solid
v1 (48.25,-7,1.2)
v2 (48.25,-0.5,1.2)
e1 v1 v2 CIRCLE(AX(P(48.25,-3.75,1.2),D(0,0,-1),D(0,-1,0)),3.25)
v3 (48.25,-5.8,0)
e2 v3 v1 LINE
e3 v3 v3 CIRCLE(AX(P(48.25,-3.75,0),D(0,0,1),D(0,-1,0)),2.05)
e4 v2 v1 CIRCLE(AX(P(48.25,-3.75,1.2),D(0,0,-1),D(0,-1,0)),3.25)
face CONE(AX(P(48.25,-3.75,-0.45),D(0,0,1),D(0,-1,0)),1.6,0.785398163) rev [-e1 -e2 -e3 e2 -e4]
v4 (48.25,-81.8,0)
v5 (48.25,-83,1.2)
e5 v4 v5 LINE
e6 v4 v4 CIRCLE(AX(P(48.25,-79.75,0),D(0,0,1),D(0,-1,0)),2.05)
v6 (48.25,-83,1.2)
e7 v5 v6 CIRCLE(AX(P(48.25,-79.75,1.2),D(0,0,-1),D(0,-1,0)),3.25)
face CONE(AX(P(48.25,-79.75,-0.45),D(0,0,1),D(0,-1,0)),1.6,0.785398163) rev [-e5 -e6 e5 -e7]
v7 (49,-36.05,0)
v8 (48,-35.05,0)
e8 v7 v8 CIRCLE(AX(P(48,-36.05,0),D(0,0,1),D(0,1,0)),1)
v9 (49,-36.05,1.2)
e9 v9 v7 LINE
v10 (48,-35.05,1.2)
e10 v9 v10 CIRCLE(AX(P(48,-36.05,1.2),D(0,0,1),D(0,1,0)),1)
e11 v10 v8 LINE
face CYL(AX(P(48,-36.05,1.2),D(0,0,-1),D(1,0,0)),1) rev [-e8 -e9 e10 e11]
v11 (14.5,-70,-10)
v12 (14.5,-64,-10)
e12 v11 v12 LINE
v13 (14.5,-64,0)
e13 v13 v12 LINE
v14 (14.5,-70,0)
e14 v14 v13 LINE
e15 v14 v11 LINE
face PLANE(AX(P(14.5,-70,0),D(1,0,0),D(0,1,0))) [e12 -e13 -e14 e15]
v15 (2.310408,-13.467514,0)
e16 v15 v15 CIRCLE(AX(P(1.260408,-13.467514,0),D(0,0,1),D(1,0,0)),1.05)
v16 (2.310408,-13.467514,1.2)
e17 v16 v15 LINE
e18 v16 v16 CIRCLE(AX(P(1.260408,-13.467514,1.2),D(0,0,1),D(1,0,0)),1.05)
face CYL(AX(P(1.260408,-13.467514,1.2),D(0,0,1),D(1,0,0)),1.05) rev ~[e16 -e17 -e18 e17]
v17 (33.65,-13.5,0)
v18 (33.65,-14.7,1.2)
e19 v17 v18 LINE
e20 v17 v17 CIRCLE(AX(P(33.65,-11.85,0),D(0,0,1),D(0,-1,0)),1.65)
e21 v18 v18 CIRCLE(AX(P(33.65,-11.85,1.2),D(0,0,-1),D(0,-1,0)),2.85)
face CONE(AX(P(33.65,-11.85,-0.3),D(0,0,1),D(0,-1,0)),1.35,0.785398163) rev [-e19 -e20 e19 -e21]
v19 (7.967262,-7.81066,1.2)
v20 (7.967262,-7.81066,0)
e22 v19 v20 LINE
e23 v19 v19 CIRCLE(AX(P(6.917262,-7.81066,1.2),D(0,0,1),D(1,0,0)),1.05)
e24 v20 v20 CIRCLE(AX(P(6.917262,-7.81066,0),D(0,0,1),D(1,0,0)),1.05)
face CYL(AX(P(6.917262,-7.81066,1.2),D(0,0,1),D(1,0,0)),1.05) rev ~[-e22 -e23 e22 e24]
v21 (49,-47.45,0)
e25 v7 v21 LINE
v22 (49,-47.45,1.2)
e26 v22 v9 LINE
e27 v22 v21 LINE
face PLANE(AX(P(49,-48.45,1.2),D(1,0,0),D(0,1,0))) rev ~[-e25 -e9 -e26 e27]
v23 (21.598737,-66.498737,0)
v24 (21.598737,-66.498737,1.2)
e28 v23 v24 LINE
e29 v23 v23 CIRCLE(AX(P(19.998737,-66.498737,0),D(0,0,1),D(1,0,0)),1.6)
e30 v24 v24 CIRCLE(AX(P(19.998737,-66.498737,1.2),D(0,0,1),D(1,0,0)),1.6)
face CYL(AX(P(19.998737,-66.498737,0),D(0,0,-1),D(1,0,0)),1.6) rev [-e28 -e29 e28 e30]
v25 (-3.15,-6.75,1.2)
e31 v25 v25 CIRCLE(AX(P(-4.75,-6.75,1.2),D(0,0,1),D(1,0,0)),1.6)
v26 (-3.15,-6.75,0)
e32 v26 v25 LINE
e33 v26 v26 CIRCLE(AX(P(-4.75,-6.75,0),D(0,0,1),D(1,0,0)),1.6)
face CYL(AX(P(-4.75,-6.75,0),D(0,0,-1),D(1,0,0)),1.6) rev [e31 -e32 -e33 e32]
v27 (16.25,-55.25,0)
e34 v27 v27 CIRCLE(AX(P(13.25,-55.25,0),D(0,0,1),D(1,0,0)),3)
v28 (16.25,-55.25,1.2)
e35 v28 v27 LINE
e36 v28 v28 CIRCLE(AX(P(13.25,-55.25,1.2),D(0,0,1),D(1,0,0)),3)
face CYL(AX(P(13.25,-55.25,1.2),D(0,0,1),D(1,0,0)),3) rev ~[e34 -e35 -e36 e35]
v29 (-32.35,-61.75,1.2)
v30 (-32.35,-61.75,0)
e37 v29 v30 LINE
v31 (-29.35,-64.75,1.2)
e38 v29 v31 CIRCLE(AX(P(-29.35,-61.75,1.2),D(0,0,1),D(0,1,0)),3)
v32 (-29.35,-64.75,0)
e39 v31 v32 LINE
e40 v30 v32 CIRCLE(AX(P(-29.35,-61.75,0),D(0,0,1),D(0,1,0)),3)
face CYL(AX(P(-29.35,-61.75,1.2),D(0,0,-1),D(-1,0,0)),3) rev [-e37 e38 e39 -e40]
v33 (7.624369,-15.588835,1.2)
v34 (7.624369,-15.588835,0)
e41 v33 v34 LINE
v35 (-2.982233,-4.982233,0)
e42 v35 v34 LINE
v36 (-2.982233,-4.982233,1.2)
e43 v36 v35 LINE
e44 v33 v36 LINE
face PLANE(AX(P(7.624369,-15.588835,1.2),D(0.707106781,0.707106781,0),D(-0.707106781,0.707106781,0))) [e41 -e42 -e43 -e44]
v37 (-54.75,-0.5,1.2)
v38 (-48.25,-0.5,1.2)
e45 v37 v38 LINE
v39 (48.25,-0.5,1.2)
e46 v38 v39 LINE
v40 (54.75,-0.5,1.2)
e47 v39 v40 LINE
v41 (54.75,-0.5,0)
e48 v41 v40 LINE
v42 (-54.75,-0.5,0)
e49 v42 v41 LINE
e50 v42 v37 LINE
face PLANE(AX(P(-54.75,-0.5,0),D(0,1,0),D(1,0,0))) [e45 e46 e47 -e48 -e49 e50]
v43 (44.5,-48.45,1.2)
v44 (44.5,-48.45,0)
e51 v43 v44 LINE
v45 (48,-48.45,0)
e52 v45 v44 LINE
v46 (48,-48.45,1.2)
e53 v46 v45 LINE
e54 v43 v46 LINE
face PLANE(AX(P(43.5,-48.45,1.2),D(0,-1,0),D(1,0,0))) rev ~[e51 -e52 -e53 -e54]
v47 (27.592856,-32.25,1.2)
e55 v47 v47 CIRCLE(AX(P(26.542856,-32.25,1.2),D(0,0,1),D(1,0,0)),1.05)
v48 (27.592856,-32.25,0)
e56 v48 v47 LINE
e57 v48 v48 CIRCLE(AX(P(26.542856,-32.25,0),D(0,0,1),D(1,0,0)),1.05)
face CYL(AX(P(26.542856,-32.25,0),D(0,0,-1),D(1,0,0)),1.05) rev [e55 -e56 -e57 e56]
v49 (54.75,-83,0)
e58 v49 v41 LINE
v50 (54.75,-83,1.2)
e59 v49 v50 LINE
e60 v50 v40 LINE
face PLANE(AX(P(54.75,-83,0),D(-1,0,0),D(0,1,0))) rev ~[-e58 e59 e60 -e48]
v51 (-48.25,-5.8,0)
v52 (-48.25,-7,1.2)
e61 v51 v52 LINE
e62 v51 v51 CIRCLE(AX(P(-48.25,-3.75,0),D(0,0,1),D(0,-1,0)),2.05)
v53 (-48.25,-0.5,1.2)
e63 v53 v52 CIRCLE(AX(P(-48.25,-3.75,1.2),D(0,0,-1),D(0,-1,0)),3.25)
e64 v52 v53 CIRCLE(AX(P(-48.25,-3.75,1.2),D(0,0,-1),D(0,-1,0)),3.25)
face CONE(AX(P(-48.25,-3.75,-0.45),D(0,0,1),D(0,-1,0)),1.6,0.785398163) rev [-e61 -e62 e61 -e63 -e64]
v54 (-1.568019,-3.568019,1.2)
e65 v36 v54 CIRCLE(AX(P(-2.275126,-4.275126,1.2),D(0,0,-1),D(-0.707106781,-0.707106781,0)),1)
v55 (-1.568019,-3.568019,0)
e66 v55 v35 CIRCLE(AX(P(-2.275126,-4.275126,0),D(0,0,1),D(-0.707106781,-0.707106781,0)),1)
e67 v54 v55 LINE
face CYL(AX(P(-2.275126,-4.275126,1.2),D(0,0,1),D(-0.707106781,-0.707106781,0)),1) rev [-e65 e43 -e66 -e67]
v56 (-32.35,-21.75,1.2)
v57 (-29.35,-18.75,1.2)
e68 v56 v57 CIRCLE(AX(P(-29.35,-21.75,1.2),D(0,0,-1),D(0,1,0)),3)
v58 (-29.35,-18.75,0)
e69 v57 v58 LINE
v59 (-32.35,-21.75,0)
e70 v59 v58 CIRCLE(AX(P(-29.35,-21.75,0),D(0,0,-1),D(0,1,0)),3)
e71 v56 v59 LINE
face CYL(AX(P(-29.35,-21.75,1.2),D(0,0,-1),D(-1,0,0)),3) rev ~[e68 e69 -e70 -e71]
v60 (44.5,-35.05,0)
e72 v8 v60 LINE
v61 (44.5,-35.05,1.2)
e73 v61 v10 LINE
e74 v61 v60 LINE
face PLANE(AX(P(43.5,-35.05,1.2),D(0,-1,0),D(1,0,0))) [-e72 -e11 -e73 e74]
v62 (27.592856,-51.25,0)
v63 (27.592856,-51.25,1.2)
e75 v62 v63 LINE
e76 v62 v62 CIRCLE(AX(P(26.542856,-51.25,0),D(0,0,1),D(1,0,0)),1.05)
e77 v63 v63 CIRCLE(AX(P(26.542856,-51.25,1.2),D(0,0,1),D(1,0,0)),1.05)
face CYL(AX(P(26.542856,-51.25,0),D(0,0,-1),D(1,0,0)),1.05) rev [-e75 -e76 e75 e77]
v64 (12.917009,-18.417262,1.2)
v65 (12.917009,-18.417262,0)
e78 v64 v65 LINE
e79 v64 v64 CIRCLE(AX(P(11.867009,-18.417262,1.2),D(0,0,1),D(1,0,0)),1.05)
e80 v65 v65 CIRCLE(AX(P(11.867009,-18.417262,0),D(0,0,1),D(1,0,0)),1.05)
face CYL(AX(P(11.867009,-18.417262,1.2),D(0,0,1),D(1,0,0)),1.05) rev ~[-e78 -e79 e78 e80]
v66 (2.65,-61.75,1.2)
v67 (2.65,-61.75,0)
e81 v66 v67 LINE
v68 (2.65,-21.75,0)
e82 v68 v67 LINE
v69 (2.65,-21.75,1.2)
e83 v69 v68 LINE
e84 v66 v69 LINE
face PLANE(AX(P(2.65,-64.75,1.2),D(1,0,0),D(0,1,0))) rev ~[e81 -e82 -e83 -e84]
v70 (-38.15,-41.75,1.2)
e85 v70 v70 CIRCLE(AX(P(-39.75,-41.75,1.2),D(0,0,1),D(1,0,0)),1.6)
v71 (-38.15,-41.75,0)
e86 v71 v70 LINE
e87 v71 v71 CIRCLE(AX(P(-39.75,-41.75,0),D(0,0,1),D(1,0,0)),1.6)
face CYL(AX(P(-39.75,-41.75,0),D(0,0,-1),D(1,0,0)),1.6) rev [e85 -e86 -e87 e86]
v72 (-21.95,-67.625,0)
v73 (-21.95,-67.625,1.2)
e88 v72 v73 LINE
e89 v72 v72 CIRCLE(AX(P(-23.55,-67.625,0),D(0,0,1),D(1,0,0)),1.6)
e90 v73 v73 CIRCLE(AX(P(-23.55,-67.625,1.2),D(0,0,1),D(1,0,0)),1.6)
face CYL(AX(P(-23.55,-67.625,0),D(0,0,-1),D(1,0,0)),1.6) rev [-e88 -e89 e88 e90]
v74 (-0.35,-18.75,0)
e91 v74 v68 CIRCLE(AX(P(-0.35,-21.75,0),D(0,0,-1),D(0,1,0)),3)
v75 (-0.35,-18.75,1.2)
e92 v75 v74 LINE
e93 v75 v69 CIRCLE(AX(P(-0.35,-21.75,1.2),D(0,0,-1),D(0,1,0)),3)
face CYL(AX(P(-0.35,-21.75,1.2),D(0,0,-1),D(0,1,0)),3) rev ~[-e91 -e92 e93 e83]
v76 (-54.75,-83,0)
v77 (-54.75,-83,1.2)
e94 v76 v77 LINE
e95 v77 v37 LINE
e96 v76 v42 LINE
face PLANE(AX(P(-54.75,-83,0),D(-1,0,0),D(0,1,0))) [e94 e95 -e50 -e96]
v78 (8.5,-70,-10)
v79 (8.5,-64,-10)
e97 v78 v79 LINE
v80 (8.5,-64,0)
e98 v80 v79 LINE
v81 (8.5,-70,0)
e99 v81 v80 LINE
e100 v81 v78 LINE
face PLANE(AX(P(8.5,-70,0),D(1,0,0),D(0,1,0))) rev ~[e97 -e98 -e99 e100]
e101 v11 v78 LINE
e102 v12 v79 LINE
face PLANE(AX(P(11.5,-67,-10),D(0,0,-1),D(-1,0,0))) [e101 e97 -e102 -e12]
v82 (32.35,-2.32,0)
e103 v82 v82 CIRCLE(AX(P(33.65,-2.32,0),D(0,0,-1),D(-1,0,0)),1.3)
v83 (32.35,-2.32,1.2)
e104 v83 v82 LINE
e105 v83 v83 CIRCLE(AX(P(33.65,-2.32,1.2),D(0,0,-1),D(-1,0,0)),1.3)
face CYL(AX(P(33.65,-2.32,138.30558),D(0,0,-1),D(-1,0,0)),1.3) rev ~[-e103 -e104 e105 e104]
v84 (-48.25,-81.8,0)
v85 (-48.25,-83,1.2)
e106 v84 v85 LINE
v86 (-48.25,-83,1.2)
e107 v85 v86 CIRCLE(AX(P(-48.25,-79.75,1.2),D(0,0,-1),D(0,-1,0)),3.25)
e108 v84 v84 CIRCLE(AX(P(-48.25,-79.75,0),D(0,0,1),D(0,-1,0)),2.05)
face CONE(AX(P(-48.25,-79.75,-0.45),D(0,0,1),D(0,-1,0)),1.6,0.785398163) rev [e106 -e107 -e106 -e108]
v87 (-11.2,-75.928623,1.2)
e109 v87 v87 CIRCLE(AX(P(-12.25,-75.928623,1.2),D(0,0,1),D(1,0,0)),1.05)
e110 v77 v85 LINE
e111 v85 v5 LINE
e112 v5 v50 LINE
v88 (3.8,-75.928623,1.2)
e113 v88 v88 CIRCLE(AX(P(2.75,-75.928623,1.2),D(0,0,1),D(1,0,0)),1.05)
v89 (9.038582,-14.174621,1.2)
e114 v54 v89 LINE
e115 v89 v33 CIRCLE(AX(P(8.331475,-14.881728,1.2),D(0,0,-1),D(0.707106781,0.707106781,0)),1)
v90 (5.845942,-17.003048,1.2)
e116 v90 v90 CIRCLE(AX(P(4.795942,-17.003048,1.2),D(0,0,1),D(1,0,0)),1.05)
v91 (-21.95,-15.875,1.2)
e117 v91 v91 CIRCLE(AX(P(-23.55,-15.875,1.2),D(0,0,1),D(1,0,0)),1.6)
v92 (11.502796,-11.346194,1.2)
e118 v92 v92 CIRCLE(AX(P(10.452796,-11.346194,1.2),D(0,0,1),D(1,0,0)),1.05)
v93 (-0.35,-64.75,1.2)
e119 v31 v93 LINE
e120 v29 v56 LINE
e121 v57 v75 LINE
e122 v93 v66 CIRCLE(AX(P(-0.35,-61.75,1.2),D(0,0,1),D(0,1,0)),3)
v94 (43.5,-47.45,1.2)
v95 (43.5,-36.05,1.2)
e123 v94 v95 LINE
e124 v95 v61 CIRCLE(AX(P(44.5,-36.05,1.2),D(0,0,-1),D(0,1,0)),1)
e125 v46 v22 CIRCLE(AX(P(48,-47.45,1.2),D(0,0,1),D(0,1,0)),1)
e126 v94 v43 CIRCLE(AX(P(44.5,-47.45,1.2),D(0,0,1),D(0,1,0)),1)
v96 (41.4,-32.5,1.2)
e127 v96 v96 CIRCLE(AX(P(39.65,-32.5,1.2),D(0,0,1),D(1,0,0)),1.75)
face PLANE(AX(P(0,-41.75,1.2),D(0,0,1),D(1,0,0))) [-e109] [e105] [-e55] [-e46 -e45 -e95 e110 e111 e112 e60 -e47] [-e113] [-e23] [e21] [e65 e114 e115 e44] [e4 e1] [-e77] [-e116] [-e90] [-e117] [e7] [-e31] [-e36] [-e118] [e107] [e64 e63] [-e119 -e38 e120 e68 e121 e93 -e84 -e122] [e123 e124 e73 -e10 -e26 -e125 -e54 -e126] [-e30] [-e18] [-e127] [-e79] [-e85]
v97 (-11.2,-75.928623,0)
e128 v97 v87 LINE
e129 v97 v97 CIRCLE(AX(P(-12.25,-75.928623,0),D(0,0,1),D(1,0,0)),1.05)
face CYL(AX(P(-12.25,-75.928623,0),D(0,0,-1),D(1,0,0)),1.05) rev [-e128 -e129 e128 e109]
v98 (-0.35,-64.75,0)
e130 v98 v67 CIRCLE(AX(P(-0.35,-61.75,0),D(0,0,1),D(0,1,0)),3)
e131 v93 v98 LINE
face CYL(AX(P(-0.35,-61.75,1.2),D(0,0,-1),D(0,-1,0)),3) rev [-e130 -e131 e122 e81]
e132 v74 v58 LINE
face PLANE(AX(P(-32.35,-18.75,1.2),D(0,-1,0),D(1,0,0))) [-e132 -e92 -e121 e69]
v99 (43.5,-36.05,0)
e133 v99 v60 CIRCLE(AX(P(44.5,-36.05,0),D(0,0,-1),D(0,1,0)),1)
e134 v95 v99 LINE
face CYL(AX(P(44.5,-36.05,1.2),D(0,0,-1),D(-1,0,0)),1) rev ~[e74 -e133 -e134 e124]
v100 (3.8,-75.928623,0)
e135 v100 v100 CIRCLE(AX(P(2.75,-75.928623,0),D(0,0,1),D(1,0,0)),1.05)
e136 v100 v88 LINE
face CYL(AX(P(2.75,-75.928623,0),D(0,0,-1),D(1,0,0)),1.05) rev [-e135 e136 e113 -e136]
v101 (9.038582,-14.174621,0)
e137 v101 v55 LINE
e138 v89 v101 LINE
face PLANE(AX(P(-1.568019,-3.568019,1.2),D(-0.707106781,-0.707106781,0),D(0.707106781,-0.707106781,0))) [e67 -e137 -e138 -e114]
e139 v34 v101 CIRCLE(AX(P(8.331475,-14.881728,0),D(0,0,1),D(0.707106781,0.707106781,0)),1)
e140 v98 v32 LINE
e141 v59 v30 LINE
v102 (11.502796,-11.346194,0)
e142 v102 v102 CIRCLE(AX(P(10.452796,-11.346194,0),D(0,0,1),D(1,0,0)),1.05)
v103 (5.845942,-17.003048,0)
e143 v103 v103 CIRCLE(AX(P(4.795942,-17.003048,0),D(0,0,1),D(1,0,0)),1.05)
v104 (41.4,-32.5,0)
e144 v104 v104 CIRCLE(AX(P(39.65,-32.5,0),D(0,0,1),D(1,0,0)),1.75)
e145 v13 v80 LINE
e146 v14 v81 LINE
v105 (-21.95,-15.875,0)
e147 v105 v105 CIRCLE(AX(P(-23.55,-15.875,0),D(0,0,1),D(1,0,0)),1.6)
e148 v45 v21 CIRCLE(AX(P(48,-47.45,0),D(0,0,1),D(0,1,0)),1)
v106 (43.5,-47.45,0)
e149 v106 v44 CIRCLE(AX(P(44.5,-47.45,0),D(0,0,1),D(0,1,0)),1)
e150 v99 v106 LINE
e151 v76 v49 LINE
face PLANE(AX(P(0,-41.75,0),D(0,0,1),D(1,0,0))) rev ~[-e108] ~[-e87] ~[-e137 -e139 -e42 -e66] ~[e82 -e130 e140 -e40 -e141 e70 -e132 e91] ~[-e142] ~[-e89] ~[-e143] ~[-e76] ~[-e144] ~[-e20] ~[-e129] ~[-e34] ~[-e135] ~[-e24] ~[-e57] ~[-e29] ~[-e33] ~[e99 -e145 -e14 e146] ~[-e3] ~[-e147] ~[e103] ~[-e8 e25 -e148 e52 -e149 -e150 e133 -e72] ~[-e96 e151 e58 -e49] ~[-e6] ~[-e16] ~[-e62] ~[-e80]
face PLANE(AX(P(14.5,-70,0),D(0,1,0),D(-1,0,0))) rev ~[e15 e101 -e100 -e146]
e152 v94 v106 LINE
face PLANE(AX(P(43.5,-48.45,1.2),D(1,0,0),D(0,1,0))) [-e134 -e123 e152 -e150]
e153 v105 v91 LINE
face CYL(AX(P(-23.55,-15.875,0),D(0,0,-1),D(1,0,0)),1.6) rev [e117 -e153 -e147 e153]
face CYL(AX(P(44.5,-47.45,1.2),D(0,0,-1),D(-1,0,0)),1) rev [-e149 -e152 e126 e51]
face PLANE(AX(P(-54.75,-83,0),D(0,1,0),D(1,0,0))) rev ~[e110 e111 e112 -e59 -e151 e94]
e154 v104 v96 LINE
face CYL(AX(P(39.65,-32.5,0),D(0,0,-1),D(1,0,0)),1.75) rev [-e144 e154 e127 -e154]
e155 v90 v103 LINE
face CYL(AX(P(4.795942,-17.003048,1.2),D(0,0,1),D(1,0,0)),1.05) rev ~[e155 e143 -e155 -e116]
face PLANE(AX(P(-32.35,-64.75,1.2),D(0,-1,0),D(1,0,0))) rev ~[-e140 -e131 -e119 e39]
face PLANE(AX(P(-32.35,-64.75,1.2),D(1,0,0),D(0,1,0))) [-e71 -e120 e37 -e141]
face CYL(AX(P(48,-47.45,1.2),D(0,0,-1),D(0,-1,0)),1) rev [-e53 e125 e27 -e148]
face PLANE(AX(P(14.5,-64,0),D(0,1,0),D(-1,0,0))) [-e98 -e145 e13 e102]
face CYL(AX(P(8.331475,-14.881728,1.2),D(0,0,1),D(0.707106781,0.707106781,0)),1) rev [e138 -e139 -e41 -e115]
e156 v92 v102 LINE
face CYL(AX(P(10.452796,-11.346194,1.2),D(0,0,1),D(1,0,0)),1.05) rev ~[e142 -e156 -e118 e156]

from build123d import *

# Parameters (mm, degrees)
SKETCH1_W                                    = 109.5
SKETCH1_H                                    = 82.5
SKETCH1_R                                    = 1.6
SKETCH1_R_2                                  = 1.05
SKETCH1_R_3                                  = 1.75
BOSS_EXTRUDE1_DEPTH                          = 1.2
CSK_FOR_M3_FLAT_COUNTERSUNK_HEAD_SCR_2_COUNT = 2
CSK_FOR_M3_FLAT_COUNTERSUNK_HEAD_SCR_2_PITCH = 76
CSK_FOR_M3_FLAT_COUNTERSUNK_HEAD_SCR_3_COUNT = 2
CSK_FOR_M3_FLAT_COUNTERSUNK_HEAD_SCR_3_PITCH = 122.834237898
CSK_FOR_M3_FLAT_COUNTERSUNK_HEAD_SCR_4_COUNT = 2
CSK_FOR_M3_FLAT_COUNTERSUNK_HEAD_SCR_4_PITCH = 96.5
F_2_6_2_6_DIAMETER_HOLE1_D                   = 2.6
CUT_EXTRUDE1_REACH                           = 101.438
SKETCH9_R                                    = 1.05
SKETCH9_R_2                                  = 3
SKETCH9_W                                    = 35
SKETCH9_H                                    = 46
SKETCH9_W_2                                  = 5.5
SKETCH9_H_2                                  = 13.4
FILLET1_R                                    = 3
FILLET2_R                                    = 1
SKETCH10_W                                   = 6
SKETCH10_H                                   = 6
BOSS_EXTRUDE2_DEPTH                          = 10


with BuildPart() as part:
    # Sketch1 → Boss-Extrude1 (new body)
    with BuildSketch(Plane.XY):
        with Locations((0, -41.75)):
            Rectangle(SKETCH1_W, SKETCH1_H)
        with Locations((-23.55, -67.625)):
            Circle(SKETCH1_R, mode=Mode.SUBTRACT)
        with Locations((-23.55, -15.875)):
            Circle(SKETCH1_R, mode=Mode.SUBTRACT)
        with Locations((-4.75, -6.75)):
            Circle(SKETCH1_R, mode=Mode.SUBTRACT)
        with Locations((-39.75, -41.75)):
            Circle(SKETCH1_R, mode=Mode.SUBTRACT)
        with Locations((19.998737342, -66.498737342)):
            Circle(SKETCH1_R, mode=Mode.SUBTRACT)
        with Locations((-12.25, -75.92862289)):
            Circle(SKETCH1_R_2, mode=Mode.SUBTRACT)
        with Locations((2.75, -75.92862289)):
            Circle(SKETCH1_R_2, mode=Mode.SUBTRACT)
        with Locations((26.542856399, -51.25)):
            Circle(SKETCH1_R_2, mode=Mode.SUBTRACT)
        with Locations((26.542856399, -32.25)):
            Circle(SKETCH1_R_2, mode=Mode.SUBTRACT)
        with Locations((39.65, -32.5)):
            Circle(SKETCH1_R_3, mode=Mode.SUBTRACT)
    extrude(amount=BOSS_EXTRUDE1_DEPTH)

    # Sketch3 → CSK for M3 Flat Countersunk Head Screw1 (revolve, cut)
    with BuildSketch(Plane(origin=(-48.25, -3.75, 1.2), x_dir=(0, -1, 0), z_dir=(1, 0, 0))):
        Polygon((0, 0), (0, 1.2), (1.6, 1.2), (1.6, 1.65), (3.25, 0), align=None)
    csk_for_m3_flat_countersunk_head_screw1 = revolve(axis=Axis((-48.25, -3.75, 7.55), (0, 0, -1)), mode=Mode.SUBTRACT)

    # CSK for M3 Flat Countersunk Head Scr 2: CSK for M3 Flat Countersunk Head Screw1 ×2
    with Locations(*[(0, -i * CSK_FOR_M3_FLAT_COUNTERSUNK_HEAD_SCR_2_PITCH, 0) for i in range(1, CSK_FOR_M3_FLAT_COUNTERSUNK_HEAD_SCR_2_COUNT)]):
        add(csk_for_m3_flat_countersunk_head_screw1, mode=Mode.SUBTRACT)

    # CSK for M3 Flat Countersunk Head Scr 3: CSK for M3 Flat Countersunk Head Screw1 ×2
    with Locations(*[Vector(0.7856115823348563, -0.6187200026678655, 0) * (i * CSK_FOR_M3_FLAT_COUNTERSUNK_HEAD_SCR_3_PITCH) for i in range(1, CSK_FOR_M3_FLAT_COUNTERSUNK_HEAD_SCR_3_COUNT)]):
        add(csk_for_m3_flat_countersunk_head_screw1, mode=Mode.SUBTRACT)

    # CSK for M3 Flat Countersunk Head Scr 4: CSK for M3 Flat Countersunk Head Screw1 ×2
    with Locations(*[(i * CSK_FOR_M3_FLAT_COUNTERSUNK_HEAD_SCR_4_PITCH, 0, 0) for i in range(1, CSK_FOR_M3_FLAT_COUNTERSUNK_HEAD_SCR_4_COUNT)]):
        add(csk_for_m3_flat_countersunk_head_screw1, mode=Mode.SUBTRACT)

    # Sketch5 → CSK for M2.5 Flat Countersunk Head Screw1 (revolve, cut)
    with BuildSketch(Plane(origin=(33.65, -11.85, 1.2), x_dir=(0, -1, 0), z_dir=(1, 0, 0))):
        Polygon((0, 0), (0, 1.2), (1.35, 1.2), (1.35, 1.5), (2.85, 0), align=None)
    revolve(axis=Axis((33.65, -11.85, 7.55), (0, 0, -1)), mode=Mode.SUBTRACT)

    # Ø2.6 (2.6) Diameter Hole1 (through all)
    with Locations(Plane.XY.offset(1.2)):
        with Locations((33.65, -2.32)):
            Hole(F_2_6_2_6_DIAMETER_HOLE1_D / 2)

    # Sketch9 → Cut-Extrude1 (cut, up to next)
    with BuildSketch(Plane.XY.offset(1.2), mode=Mode.PRIVATE) as cut_extrude1_sk1:
        with Locations((1.26040764, -13.467514421)):
            Circle(SKETCH9_R)
    cut_extrude1_tool1 = extrude(cut_extrude1_sk1.sketch, amount=-CUT_EXTRUDE1_REACH, mode=Mode.PRIVATE) & part.part
    # Sketch9 → Cut-Extrude1 (cut, up to next)
    with BuildSketch(Plane.XY.offset(1.2), mode=Mode.PRIVATE) as cut_extrude1_sk2:
        with Locations((6.91726189, -7.810660172)):
            Circle(SKETCH9_R)
    cut_extrude1_tool2 = extrude(cut_extrude1_sk2.sketch, amount=-CUT_EXTRUDE1_REACH, mode=Mode.PRIVATE) & part.part
    # Sketch9 → Cut-Extrude1 (cut, up to next)
    with BuildSketch(Plane.XY.offset(1.2), mode=Mode.PRIVATE) as cut_extrude1_sk3:
        with Locations((10.452795796, -11.346194078)):
            Circle(SKETCH9_R)
    cut_extrude1_tool3 = extrude(cut_extrude1_sk3.sketch, amount=-CUT_EXTRUDE1_REACH, mode=Mode.PRIVATE) & part.part
    # Sketch9 → Cut-Extrude1 (cut, up to next)
    with BuildSketch(Plane.XY.offset(1.2), mode=Mode.PRIVATE) as cut_extrude1_sk4:
        with Locations((13.25, -55.25)):
            Circle(SKETCH9_R_2)
    cut_extrude1_tool4 = extrude(cut_extrude1_sk4.sketch, amount=-CUT_EXTRUDE1_REACH, mode=Mode.PRIVATE) & part.part
    # Sketch9 → Cut-Extrude1 (cut, up to next)
    with BuildSketch(Plane.XY.offset(1.2), mode=Mode.PRIVATE) as cut_extrude1_sk5:
        with Locations((4.795941546, -17.003048327)):
            Circle(SKETCH9_R)
    cut_extrude1_tool5 = extrude(cut_extrude1_sk5.sketch, amount=-CUT_EXTRUDE1_REACH, mode=Mode.PRIVATE) & part.part
    # Sketch9 → Cut-Extrude1 (cut, up to next)
    with BuildSketch(Plane.XY.offset(1.2), mode=Mode.PRIVATE) as cut_extrude1_sk6:
        with Locations((11.867009358, -18.41726189)):
            Circle(SKETCH9_R)
    cut_extrude1_tool6 = extrude(cut_extrude1_sk6.sketch, amount=-CUT_EXTRUDE1_REACH, mode=Mode.PRIVATE) & part.part
    # Sketch9 → Cut-Extrude1 (cut, up to next)
    with BuildSketch(Plane.XY.offset(1.2), mode=Mode.PRIVATE) as cut_extrude1_sk7:
        with Locations((-14.85, -41.75)):
            Rectangle(SKETCH9_W, SKETCH9_H)
    cut_extrude1_tool7 = extrude(cut_extrude1_sk7.sketch, amount=-CUT_EXTRUDE1_REACH, mode=Mode.PRIVATE) & part.part
    # Sketch9 → Cut-Extrude1 (cut, up to next)
    with BuildSketch(Plane.XY.offset(1.2), mode=Mode.PRIVATE) as cut_extrude1_sk8:
        with BuildLine():
            Line((7.624368671, -15.588834765), (-2.982233047, -4.982233047))
            ThreePointArc((-2.982233047, -4.982233047), (-2.982233047, -3.568019485), (-1.568019485, -3.568019485))
            Line((-1.568019485, -3.568019485), (9.038582233, -14.174621202))
            ThreePointArc((9.038582233, -14.174621202), (9.038582233, -15.588834765), (7.624368671, -15.588834765))
        make_face()
    cut_extrude1_tool8 = extrude(cut_extrude1_sk8.sketch, amount=-CUT_EXTRUDE1_REACH, mode=Mode.PRIVATE) & part.part
    # Sketch9 → Cut-Extrude1 (cut, up to next)
    with BuildSketch(Plane.XY.offset(1.2), mode=Mode.PRIVATE) as cut_extrude1_sk9:
        with Locations((46.25, -41.75)):
            Rectangle(SKETCH9_W_2, SKETCH9_H_2)
    cut_extrude1_tool9 = extrude(cut_extrude1_sk9.sketch, amount=-CUT_EXTRUDE1_REACH, mode=Mode.PRIVATE) & part.part
    add(cut_extrude1_tool1.solids().sort_by_distance((1.260408, -13.467514, 1.2))[0], mode=Mode.SUBTRACT)
    add(cut_extrude1_tool2.solids().sort_by_distance((6.917262, -7.81066, 1.2))[0], mode=Mode.SUBTRACT)
    add(cut_extrude1_tool3.solids().sort_by_distance((10.452796, -11.346194, 1.2))[0], mode=Mode.SUBTRACT)
    add(cut_extrude1_tool4.solids().sort_by_distance((13.25, -55.25, 1.2))[0], mode=Mode.SUBTRACT)
    add(cut_extrude1_tool5.solids().sort_by_distance((4.795942, -17.003048, 1.2))[0], mode=Mode.SUBTRACT)
    add(cut_extrude1_tool6.solids().sort_by_distance((11.867009, -18.417262, 1.2))[0], mode=Mode.SUBTRACT)
    add(cut_extrude1_tool7.solids().sort_by_distance((-14.85, -41.75, 1.2))[0], mode=Mode.SUBTRACT)
    add(cut_extrude1_tool8.solids().sort_by_distance((3.028175, -9.578427, 1.2))[0], mode=Mode.SUBTRACT)
    add(cut_extrude1_tool9.solids().sort_by_distance((46.25, -41.75, 1.2))[0], mode=Mode.SUBTRACT)

    # Fillet1
    fillet1_edges = [part.edges().sort_by_distance(p)[0] for p in [
        (2.65, -18.75, 0.6),
        (2.65, -64.75, 0.6),
        (-32.35, -64.75, 0.6),
        (-32.35, -18.75, 0.6),
    ]]
    fillet(fillet1_edges, radius=FILLET1_R)

    # Fillet2
    fillet2_edges = [part.edges().sort_by_distance(p)[0] for p in [
        (43.5, -48.45, 0.6),
        (43.5, -35.05, 0.6),
        (49, -35.05, 0.6),
        (49, -48.45, 0.6),
    ]]
    fillet(fillet2_edges, radius=FILLET2_R)

    # Sketch10 → Boss-Extrude2 (add)
    with BuildSketch(Plane(origin=(0, 0, 0), x_dir=(-1, 0, 0), z_dir=(0, 0, -1))):
        with Locations((-11.5, -67)):
            Rectangle(SKETCH10_W, SKETCH10_H)
    extrude(amount=BOSS_EXTRUDE2_DEPTH)


solid = part.part
